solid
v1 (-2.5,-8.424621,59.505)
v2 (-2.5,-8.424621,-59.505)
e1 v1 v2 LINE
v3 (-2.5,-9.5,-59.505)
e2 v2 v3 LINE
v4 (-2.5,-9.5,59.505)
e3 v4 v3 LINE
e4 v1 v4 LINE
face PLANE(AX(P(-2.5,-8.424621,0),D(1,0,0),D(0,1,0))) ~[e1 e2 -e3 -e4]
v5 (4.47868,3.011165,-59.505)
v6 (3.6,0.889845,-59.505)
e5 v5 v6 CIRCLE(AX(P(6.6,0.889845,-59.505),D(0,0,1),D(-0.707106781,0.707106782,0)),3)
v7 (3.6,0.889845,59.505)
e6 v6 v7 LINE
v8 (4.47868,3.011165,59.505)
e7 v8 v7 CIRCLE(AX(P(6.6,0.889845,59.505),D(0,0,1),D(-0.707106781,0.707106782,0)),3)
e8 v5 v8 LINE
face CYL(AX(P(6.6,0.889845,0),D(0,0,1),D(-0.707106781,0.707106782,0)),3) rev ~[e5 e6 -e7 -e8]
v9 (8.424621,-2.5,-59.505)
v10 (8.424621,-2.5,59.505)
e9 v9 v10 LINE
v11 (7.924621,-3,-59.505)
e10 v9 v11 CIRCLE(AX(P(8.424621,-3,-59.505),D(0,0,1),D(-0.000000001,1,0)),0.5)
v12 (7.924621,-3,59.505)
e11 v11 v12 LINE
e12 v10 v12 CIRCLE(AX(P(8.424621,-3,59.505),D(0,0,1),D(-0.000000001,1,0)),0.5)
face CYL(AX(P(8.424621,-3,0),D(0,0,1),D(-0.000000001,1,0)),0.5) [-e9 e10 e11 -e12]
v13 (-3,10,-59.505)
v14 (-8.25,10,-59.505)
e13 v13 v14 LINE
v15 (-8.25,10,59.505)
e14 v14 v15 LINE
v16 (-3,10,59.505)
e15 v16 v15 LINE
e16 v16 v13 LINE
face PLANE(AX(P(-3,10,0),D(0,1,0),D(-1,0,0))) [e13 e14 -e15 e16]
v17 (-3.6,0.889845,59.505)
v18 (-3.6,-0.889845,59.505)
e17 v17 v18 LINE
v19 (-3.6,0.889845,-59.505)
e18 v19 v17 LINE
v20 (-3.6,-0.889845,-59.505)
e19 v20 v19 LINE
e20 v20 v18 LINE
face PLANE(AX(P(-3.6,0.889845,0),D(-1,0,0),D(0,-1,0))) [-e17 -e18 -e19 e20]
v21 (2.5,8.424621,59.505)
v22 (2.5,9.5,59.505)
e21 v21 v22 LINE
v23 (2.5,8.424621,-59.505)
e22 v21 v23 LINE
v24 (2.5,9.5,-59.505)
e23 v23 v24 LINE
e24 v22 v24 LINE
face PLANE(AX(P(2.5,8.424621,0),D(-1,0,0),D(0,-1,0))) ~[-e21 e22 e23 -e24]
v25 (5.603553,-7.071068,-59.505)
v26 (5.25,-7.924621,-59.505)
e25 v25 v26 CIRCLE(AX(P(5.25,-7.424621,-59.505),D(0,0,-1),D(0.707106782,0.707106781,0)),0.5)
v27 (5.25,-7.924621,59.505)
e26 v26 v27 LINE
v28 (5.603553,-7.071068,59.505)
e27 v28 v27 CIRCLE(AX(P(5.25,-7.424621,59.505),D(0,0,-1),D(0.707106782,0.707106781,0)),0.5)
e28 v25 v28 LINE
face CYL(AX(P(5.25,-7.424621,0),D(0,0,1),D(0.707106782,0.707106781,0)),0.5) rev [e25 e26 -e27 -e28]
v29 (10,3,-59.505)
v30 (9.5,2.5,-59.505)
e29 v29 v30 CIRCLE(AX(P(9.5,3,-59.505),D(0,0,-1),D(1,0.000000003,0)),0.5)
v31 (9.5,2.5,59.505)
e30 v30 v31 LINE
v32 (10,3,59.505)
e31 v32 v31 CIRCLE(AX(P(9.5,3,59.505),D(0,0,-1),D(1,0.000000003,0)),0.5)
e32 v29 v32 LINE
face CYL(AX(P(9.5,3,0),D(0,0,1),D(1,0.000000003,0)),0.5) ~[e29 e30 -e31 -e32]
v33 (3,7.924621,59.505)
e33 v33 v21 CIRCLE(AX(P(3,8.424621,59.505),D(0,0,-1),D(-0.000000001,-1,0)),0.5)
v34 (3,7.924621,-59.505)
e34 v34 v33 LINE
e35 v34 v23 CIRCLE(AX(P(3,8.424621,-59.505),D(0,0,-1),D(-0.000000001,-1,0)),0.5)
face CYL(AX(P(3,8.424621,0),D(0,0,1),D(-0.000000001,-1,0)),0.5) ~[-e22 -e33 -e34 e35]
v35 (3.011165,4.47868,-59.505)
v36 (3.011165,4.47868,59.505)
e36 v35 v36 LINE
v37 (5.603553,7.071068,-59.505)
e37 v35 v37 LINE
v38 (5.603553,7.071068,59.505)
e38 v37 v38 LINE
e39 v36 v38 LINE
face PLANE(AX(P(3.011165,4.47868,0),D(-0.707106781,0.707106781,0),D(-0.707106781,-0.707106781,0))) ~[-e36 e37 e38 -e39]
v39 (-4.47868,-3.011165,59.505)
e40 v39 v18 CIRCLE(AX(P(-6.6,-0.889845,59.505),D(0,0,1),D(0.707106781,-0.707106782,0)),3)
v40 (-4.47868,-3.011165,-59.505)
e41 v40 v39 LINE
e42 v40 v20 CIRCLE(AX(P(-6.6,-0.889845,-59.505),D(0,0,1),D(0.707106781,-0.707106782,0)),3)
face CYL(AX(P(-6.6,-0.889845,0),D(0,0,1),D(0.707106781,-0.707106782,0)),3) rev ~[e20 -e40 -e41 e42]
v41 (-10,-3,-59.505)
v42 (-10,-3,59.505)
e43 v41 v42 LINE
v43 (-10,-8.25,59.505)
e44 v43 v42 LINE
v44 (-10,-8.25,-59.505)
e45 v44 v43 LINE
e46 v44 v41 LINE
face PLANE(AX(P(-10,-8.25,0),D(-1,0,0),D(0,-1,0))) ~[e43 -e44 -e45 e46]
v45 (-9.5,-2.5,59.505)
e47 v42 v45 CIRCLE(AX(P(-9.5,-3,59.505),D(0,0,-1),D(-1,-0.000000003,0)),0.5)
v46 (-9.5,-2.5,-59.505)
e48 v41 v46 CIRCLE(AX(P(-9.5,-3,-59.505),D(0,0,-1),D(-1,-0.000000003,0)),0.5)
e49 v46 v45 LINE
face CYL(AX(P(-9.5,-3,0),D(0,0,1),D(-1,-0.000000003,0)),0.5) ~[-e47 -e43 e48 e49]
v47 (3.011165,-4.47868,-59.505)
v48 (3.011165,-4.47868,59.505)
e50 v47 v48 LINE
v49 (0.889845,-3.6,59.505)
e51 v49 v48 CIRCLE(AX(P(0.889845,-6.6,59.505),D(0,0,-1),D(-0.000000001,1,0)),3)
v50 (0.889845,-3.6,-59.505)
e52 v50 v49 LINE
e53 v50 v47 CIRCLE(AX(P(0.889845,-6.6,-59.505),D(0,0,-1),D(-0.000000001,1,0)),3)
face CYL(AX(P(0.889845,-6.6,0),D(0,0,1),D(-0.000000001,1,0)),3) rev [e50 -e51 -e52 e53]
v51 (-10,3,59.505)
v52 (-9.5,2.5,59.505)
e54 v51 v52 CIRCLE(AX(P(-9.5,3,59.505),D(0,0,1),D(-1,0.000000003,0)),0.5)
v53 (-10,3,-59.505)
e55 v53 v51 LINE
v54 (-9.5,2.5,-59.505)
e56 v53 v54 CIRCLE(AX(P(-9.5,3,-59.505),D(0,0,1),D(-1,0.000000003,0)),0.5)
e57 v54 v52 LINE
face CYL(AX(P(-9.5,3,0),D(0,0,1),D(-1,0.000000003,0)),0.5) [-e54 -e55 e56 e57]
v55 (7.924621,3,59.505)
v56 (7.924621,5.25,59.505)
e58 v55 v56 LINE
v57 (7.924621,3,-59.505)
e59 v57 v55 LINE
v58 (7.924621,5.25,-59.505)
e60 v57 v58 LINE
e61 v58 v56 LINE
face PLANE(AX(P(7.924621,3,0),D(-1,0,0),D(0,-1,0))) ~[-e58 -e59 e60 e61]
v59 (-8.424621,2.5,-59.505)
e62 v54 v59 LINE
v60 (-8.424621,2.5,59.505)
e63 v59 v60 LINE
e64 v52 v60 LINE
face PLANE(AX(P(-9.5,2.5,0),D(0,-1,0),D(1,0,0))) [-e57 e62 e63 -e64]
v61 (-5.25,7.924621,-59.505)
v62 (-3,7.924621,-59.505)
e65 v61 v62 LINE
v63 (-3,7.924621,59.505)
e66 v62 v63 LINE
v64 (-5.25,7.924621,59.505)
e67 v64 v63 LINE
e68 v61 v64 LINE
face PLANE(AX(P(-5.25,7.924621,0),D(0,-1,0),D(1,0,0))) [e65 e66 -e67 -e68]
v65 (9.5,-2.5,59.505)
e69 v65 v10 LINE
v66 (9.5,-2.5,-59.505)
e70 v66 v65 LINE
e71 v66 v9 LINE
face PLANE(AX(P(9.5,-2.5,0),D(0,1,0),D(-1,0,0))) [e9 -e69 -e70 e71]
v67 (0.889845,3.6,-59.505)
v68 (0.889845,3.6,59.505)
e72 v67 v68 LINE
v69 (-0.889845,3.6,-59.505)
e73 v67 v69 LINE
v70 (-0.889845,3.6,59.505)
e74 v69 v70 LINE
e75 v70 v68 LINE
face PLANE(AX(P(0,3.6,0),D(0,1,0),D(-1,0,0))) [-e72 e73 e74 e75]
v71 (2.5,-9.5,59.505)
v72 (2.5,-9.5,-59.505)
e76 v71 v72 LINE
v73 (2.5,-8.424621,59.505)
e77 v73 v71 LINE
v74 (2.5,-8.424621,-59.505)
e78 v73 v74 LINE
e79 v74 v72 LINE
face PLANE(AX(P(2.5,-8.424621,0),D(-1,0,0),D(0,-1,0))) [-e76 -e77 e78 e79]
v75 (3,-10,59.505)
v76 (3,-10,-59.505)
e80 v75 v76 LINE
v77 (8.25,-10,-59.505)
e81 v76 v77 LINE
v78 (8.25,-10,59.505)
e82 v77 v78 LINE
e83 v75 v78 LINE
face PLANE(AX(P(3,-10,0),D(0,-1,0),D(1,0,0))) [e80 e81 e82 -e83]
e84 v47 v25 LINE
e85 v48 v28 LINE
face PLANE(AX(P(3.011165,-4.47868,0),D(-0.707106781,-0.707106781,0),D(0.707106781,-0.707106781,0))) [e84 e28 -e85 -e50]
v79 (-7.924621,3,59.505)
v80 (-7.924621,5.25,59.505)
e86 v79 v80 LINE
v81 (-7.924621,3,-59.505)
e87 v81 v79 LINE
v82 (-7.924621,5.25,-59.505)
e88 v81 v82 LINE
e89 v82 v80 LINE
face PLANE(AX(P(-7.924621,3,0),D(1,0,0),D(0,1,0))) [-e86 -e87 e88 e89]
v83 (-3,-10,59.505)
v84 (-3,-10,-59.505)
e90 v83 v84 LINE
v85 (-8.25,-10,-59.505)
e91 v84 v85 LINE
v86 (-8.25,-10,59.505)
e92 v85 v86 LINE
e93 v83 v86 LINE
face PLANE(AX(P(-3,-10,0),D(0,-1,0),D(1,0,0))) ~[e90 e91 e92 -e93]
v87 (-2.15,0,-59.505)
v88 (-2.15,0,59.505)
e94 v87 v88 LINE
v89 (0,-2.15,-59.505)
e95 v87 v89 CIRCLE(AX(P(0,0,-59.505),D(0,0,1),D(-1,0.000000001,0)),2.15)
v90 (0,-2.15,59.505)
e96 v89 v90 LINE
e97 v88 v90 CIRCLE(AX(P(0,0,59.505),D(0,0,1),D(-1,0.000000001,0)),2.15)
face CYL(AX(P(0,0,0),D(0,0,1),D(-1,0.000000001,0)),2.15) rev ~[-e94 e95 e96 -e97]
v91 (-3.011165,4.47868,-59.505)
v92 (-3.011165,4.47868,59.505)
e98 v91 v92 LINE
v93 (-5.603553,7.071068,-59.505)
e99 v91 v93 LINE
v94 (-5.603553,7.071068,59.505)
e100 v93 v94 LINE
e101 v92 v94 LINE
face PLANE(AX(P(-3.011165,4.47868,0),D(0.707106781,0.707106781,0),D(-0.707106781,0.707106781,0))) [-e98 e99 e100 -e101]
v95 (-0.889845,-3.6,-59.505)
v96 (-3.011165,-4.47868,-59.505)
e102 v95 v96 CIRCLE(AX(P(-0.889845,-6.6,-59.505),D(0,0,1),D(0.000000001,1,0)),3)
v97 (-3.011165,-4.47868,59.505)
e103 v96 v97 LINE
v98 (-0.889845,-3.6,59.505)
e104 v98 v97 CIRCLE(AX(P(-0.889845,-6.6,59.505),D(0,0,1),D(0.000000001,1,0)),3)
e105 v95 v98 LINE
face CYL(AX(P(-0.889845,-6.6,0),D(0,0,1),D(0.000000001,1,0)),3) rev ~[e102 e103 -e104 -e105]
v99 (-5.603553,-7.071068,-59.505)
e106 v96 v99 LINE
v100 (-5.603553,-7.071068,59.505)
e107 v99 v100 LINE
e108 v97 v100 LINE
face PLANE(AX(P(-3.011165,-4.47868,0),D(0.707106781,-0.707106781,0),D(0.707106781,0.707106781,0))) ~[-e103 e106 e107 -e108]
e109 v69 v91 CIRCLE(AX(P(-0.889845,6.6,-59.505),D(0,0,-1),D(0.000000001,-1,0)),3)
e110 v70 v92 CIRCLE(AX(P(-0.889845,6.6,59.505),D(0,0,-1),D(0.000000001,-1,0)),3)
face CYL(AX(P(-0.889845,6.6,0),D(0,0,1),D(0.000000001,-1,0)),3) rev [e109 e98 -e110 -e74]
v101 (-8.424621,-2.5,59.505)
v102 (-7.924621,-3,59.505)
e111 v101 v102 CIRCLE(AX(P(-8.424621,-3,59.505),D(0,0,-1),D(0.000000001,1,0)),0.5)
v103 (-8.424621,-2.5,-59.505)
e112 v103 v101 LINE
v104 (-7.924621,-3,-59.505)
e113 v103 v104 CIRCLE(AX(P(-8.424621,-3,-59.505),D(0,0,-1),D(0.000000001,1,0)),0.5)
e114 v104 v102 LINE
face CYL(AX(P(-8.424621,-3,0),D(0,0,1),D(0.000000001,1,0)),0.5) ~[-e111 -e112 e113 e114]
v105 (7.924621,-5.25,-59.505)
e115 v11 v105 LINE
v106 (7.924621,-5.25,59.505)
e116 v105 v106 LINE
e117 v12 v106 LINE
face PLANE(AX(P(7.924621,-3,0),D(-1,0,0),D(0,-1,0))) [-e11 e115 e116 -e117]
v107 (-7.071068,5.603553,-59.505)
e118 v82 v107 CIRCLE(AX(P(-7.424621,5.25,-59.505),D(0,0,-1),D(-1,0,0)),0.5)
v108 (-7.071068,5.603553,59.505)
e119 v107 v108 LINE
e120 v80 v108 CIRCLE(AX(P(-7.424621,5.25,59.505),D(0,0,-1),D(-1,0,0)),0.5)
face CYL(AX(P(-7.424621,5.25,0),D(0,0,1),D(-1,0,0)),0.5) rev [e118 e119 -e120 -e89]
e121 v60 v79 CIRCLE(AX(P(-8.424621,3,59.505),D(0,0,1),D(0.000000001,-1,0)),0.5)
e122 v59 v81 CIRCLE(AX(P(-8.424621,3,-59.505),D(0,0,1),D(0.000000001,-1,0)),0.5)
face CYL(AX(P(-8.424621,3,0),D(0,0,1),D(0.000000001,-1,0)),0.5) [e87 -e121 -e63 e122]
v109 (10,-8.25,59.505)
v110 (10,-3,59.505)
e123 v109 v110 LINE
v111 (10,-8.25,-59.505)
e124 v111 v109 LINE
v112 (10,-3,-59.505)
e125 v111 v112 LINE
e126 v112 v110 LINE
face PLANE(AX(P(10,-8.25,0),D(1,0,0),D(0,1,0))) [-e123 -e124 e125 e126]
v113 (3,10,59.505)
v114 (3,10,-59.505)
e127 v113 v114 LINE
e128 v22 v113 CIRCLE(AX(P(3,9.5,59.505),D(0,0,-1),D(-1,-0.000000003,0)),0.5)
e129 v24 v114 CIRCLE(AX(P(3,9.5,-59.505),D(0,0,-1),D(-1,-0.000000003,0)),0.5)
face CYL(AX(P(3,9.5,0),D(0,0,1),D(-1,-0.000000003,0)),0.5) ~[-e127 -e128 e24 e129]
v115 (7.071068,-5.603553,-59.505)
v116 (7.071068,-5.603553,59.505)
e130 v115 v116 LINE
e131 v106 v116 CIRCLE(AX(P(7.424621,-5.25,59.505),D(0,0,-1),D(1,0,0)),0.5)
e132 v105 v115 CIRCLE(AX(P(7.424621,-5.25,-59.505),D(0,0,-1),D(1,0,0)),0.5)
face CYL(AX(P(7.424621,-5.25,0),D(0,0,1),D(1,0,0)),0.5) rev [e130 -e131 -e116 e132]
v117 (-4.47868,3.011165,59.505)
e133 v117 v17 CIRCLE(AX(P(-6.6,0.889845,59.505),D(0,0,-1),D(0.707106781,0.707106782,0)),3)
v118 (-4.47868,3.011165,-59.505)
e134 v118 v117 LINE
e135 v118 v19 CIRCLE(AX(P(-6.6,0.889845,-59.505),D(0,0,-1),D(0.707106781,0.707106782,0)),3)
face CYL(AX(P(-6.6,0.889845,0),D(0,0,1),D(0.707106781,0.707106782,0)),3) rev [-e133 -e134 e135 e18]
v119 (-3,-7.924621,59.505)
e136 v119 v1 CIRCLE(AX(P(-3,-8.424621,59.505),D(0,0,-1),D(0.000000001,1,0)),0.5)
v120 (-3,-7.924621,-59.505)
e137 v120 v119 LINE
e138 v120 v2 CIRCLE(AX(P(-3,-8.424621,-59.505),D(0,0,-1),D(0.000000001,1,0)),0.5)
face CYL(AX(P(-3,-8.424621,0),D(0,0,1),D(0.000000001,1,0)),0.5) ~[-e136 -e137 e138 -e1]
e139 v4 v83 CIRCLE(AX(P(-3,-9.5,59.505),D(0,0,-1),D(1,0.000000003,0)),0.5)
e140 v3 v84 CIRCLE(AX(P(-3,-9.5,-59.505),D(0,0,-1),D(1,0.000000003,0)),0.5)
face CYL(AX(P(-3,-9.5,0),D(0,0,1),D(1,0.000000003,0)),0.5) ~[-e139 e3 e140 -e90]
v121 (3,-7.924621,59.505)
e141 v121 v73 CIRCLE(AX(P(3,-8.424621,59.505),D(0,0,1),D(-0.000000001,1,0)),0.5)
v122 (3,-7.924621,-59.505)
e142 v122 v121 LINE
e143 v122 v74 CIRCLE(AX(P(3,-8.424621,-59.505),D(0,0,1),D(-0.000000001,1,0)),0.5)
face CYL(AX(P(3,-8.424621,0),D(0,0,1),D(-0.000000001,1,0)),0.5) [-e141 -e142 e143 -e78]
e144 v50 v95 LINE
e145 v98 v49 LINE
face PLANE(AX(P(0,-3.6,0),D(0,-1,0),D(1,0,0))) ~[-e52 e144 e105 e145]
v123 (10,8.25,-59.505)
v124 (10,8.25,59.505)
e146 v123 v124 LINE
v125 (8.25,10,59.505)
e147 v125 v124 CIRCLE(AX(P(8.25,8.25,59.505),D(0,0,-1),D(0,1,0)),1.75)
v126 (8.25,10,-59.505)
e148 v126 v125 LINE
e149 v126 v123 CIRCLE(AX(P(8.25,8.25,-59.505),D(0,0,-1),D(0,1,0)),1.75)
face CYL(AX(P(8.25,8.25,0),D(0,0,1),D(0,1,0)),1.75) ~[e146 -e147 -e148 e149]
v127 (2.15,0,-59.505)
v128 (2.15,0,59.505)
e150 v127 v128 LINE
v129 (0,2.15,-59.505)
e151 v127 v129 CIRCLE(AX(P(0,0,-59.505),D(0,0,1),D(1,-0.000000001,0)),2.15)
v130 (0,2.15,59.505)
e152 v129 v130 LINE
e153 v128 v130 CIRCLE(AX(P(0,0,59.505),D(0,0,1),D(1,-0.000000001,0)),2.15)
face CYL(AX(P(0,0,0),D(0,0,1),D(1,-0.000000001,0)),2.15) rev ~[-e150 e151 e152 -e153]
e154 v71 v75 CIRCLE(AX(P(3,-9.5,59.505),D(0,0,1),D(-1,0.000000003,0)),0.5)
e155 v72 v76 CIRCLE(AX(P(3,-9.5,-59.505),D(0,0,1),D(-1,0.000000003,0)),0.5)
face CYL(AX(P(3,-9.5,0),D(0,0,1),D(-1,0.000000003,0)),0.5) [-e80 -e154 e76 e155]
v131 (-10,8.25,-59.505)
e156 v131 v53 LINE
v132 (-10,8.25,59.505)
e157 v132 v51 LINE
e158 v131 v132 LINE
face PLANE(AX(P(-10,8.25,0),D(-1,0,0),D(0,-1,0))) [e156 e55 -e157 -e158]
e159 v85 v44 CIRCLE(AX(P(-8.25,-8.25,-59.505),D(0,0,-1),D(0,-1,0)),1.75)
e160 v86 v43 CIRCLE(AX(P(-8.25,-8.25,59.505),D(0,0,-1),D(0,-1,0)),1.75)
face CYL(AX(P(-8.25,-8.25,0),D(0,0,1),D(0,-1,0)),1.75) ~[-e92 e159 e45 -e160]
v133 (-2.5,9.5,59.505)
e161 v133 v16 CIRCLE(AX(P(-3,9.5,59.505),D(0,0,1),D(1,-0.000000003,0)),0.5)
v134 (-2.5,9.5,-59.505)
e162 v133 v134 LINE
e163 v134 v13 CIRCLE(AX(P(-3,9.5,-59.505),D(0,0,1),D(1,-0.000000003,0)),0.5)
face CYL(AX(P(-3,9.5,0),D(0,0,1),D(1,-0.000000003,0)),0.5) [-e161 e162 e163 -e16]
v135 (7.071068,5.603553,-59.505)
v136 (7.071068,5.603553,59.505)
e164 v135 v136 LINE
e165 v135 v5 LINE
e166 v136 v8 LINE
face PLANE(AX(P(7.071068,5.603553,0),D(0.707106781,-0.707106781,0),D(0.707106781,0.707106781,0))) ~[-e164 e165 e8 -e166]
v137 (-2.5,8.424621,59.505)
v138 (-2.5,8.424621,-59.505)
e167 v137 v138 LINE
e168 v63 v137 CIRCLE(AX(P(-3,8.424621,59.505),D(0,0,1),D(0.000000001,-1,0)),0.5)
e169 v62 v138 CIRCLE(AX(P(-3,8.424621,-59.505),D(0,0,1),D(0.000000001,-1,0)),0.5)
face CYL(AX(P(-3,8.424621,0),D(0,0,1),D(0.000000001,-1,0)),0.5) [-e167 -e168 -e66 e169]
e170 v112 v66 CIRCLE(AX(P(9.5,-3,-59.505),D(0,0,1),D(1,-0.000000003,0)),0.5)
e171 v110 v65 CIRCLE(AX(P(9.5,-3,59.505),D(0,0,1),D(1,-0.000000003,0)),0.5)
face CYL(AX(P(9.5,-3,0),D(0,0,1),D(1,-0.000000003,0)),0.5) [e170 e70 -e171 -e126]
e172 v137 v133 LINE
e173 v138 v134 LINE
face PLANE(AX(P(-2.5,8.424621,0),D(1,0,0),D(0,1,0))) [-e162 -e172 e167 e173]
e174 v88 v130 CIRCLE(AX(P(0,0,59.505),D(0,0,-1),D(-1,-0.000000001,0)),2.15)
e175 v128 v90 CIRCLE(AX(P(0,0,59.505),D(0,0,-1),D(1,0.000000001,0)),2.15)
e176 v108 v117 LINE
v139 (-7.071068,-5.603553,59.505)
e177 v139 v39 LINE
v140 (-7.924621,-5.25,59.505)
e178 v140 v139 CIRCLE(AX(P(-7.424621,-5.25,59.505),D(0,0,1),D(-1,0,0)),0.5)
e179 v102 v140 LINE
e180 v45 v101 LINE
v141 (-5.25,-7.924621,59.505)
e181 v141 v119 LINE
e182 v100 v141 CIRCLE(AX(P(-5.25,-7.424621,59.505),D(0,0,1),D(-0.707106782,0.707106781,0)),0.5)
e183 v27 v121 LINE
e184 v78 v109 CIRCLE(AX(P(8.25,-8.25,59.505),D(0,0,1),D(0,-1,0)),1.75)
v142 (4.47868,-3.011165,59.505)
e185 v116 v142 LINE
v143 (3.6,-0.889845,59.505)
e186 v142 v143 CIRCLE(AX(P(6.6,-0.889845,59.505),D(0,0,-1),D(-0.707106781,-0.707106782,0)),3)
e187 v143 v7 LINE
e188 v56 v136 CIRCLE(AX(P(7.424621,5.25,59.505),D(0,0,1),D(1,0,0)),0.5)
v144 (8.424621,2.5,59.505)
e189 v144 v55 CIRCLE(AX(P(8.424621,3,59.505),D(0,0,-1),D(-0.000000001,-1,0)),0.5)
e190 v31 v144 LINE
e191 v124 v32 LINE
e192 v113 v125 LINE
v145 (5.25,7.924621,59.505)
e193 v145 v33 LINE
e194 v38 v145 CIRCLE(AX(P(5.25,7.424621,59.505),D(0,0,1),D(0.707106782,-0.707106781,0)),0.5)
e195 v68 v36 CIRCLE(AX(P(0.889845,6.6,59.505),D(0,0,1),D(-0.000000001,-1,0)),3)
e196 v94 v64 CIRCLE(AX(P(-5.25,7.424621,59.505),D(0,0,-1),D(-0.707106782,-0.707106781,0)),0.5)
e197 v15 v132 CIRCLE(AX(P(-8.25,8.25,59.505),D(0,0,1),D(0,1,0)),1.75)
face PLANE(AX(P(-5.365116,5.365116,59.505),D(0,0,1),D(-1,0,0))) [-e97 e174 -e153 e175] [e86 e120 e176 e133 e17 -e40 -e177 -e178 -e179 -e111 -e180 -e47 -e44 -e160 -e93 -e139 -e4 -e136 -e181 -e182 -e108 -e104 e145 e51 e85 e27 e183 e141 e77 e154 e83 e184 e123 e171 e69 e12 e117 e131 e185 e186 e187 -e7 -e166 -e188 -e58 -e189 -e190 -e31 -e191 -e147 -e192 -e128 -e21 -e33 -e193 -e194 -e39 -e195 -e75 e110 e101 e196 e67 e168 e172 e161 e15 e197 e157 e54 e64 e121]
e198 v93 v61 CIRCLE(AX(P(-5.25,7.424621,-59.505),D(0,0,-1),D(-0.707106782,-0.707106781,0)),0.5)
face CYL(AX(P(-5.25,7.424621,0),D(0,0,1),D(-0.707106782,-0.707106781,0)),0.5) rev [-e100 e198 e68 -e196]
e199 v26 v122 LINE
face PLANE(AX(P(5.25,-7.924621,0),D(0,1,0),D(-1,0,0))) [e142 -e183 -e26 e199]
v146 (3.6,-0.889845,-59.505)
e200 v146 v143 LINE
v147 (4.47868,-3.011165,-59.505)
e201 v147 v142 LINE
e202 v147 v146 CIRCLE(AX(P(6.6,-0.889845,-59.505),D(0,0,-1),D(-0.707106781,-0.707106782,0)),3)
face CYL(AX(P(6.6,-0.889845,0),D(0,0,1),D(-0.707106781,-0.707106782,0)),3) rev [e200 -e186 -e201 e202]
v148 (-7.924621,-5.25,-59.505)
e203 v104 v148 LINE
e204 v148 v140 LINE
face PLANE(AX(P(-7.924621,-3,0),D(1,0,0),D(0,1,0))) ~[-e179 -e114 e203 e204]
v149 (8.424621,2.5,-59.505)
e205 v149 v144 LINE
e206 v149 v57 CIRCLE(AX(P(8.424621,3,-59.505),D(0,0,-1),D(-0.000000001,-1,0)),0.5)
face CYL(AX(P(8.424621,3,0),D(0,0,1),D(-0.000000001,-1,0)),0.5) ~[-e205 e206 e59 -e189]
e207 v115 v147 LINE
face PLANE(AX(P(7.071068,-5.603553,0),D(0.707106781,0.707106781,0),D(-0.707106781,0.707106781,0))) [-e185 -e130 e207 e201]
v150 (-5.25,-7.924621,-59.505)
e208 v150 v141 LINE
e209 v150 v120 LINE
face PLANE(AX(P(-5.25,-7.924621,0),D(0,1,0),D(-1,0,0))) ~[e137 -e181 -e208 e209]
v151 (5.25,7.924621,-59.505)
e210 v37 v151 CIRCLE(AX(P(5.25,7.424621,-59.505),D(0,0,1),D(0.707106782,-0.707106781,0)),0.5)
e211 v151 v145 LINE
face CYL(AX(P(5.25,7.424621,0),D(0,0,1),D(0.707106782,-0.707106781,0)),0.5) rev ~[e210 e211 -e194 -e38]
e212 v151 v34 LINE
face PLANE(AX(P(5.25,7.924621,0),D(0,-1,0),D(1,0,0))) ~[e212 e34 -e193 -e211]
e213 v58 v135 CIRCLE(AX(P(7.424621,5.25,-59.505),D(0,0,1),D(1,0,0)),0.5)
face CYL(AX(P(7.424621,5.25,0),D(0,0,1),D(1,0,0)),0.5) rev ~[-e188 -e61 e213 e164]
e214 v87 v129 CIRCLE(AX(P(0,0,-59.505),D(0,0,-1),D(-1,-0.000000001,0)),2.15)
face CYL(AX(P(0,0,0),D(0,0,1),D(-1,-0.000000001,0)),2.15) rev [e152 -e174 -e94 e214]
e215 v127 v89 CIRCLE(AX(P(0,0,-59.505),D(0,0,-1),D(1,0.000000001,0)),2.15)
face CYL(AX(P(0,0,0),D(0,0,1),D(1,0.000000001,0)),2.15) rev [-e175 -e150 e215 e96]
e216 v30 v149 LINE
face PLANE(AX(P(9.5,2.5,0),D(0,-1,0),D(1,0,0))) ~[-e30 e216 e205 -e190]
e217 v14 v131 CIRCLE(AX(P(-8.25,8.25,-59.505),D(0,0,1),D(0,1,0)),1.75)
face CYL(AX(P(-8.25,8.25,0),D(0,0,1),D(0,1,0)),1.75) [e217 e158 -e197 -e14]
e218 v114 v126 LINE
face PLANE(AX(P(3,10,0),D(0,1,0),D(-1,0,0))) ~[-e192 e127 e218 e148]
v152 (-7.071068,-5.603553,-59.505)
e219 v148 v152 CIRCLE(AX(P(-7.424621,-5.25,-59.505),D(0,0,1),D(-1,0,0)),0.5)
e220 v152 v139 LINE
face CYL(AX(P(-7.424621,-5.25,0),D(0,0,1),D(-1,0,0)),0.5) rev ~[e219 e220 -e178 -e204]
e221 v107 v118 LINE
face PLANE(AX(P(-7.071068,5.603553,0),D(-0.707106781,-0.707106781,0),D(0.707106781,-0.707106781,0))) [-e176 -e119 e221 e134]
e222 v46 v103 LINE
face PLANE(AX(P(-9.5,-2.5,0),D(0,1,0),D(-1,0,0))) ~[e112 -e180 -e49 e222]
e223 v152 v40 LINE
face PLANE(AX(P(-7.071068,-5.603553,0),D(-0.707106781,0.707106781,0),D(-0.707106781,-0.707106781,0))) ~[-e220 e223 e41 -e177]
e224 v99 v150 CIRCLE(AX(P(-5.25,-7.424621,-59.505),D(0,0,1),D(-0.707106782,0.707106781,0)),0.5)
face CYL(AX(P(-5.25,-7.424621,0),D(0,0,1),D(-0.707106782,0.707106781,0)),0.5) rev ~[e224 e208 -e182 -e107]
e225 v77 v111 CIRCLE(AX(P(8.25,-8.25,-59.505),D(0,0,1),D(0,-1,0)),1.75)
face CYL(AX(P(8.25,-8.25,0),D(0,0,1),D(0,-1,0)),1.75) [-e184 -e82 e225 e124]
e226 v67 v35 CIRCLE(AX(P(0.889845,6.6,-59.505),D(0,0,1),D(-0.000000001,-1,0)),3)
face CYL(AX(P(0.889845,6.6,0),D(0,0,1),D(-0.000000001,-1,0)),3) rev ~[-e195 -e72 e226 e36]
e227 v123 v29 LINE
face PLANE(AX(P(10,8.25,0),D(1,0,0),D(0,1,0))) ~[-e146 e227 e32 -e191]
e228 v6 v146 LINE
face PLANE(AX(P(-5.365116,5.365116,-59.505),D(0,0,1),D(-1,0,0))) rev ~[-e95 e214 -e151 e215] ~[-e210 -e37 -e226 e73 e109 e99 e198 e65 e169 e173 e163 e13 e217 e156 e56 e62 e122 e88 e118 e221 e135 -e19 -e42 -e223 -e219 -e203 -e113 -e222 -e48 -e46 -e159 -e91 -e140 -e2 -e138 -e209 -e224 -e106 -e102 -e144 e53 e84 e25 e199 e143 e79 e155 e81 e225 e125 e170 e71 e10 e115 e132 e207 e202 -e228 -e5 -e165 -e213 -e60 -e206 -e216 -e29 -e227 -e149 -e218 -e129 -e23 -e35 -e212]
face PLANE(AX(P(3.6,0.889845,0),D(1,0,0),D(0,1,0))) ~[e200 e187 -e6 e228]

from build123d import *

# Parameters (mm, degrees)
BOSS_EXTRUDE1_DEPTH = 59.505


with BuildPart() as part:
    # Sketch4 → Boss-Extrude1 (new, symmetric)
    with BuildSketch(Plane.XY):
        with BuildLine():
            Line((3, -10), (8.25, -10))
            ThreePointArc((8.25, -10), (9.487436867, -9.487436867), (10, -8.25))
            Line((10, -8.25), (10, -3))
            ThreePointArc((10, -3), (9.853553391, -2.646446609), (9.5, -2.5))
            Line((9.5, -2.5), (8.424621202, -2.5))
            ThreePointArc((8.424621202, -2.5), (8.071067812, -2.646446609), (7.924621202, -3))
            Line((7.924621202, -3), (7.924621202, -5.25))
            ThreePointArc((7.924621202, -5.25), (7.615962919, -5.711939766), (7.071067812, -5.603553391))
            Line((7.071067812, -5.603553391), (4.478679656, -3.011165235))
            ThreePointArc((4.478679656, -3.011165235), (3.828361402, -2.037895189), (3.6, -0.889844892))
            Line((3.6, -0.889844892), (3.6, 0))
            Line((3.6, 0), (2.15, 0))
            ThreePointArc((2.15, 0), (1.52027958, -1.52027958), (0, -2.15))
            Line((0, -2.15), (0, -3.6))
            Line((0, -3.6), (0.889844892, -3.6))
            ThreePointArc((0.889844892, -3.6), (2.037895189, -3.828361402), (3.011165235, -4.478679656))
            Line((3.011165235, -4.478679656), (5.603553391, -7.071067812))
            ThreePointArc((5.603553391, -7.071067812), (5.711939766, -7.615962919), (5.25, -7.924621202))
            Line((5.25, -7.924621202), (3, -7.924621202))
            ThreePointArc((3, -7.924621202), (2.646446609, -8.071067812), (2.5, -8.424621202))
            Line((2.5, -8.424621202), (2.5, -9.5))
            ThreePointArc((2.5, -9.5), (2.646446609, -9.853553391), (3, -10))
        make_face()
    extrude(amount=BOSS_EXTRUDE1_DEPTH, both=True)

    # Mirror1: part across plane


with BuildPart() as part_1:
    add(part.part)
    add(part.part.mirror(Plane(origin=(0, 0, 0), x_dir=(0, 0, 1), z_dir=(1, 0, 0))))

    # Mirror2: part across plane


with BuildPart() as part_2:
    add(part_1.part)
    add(part_1.part.mirror(Plane.ZX))


solid = part_2.part
